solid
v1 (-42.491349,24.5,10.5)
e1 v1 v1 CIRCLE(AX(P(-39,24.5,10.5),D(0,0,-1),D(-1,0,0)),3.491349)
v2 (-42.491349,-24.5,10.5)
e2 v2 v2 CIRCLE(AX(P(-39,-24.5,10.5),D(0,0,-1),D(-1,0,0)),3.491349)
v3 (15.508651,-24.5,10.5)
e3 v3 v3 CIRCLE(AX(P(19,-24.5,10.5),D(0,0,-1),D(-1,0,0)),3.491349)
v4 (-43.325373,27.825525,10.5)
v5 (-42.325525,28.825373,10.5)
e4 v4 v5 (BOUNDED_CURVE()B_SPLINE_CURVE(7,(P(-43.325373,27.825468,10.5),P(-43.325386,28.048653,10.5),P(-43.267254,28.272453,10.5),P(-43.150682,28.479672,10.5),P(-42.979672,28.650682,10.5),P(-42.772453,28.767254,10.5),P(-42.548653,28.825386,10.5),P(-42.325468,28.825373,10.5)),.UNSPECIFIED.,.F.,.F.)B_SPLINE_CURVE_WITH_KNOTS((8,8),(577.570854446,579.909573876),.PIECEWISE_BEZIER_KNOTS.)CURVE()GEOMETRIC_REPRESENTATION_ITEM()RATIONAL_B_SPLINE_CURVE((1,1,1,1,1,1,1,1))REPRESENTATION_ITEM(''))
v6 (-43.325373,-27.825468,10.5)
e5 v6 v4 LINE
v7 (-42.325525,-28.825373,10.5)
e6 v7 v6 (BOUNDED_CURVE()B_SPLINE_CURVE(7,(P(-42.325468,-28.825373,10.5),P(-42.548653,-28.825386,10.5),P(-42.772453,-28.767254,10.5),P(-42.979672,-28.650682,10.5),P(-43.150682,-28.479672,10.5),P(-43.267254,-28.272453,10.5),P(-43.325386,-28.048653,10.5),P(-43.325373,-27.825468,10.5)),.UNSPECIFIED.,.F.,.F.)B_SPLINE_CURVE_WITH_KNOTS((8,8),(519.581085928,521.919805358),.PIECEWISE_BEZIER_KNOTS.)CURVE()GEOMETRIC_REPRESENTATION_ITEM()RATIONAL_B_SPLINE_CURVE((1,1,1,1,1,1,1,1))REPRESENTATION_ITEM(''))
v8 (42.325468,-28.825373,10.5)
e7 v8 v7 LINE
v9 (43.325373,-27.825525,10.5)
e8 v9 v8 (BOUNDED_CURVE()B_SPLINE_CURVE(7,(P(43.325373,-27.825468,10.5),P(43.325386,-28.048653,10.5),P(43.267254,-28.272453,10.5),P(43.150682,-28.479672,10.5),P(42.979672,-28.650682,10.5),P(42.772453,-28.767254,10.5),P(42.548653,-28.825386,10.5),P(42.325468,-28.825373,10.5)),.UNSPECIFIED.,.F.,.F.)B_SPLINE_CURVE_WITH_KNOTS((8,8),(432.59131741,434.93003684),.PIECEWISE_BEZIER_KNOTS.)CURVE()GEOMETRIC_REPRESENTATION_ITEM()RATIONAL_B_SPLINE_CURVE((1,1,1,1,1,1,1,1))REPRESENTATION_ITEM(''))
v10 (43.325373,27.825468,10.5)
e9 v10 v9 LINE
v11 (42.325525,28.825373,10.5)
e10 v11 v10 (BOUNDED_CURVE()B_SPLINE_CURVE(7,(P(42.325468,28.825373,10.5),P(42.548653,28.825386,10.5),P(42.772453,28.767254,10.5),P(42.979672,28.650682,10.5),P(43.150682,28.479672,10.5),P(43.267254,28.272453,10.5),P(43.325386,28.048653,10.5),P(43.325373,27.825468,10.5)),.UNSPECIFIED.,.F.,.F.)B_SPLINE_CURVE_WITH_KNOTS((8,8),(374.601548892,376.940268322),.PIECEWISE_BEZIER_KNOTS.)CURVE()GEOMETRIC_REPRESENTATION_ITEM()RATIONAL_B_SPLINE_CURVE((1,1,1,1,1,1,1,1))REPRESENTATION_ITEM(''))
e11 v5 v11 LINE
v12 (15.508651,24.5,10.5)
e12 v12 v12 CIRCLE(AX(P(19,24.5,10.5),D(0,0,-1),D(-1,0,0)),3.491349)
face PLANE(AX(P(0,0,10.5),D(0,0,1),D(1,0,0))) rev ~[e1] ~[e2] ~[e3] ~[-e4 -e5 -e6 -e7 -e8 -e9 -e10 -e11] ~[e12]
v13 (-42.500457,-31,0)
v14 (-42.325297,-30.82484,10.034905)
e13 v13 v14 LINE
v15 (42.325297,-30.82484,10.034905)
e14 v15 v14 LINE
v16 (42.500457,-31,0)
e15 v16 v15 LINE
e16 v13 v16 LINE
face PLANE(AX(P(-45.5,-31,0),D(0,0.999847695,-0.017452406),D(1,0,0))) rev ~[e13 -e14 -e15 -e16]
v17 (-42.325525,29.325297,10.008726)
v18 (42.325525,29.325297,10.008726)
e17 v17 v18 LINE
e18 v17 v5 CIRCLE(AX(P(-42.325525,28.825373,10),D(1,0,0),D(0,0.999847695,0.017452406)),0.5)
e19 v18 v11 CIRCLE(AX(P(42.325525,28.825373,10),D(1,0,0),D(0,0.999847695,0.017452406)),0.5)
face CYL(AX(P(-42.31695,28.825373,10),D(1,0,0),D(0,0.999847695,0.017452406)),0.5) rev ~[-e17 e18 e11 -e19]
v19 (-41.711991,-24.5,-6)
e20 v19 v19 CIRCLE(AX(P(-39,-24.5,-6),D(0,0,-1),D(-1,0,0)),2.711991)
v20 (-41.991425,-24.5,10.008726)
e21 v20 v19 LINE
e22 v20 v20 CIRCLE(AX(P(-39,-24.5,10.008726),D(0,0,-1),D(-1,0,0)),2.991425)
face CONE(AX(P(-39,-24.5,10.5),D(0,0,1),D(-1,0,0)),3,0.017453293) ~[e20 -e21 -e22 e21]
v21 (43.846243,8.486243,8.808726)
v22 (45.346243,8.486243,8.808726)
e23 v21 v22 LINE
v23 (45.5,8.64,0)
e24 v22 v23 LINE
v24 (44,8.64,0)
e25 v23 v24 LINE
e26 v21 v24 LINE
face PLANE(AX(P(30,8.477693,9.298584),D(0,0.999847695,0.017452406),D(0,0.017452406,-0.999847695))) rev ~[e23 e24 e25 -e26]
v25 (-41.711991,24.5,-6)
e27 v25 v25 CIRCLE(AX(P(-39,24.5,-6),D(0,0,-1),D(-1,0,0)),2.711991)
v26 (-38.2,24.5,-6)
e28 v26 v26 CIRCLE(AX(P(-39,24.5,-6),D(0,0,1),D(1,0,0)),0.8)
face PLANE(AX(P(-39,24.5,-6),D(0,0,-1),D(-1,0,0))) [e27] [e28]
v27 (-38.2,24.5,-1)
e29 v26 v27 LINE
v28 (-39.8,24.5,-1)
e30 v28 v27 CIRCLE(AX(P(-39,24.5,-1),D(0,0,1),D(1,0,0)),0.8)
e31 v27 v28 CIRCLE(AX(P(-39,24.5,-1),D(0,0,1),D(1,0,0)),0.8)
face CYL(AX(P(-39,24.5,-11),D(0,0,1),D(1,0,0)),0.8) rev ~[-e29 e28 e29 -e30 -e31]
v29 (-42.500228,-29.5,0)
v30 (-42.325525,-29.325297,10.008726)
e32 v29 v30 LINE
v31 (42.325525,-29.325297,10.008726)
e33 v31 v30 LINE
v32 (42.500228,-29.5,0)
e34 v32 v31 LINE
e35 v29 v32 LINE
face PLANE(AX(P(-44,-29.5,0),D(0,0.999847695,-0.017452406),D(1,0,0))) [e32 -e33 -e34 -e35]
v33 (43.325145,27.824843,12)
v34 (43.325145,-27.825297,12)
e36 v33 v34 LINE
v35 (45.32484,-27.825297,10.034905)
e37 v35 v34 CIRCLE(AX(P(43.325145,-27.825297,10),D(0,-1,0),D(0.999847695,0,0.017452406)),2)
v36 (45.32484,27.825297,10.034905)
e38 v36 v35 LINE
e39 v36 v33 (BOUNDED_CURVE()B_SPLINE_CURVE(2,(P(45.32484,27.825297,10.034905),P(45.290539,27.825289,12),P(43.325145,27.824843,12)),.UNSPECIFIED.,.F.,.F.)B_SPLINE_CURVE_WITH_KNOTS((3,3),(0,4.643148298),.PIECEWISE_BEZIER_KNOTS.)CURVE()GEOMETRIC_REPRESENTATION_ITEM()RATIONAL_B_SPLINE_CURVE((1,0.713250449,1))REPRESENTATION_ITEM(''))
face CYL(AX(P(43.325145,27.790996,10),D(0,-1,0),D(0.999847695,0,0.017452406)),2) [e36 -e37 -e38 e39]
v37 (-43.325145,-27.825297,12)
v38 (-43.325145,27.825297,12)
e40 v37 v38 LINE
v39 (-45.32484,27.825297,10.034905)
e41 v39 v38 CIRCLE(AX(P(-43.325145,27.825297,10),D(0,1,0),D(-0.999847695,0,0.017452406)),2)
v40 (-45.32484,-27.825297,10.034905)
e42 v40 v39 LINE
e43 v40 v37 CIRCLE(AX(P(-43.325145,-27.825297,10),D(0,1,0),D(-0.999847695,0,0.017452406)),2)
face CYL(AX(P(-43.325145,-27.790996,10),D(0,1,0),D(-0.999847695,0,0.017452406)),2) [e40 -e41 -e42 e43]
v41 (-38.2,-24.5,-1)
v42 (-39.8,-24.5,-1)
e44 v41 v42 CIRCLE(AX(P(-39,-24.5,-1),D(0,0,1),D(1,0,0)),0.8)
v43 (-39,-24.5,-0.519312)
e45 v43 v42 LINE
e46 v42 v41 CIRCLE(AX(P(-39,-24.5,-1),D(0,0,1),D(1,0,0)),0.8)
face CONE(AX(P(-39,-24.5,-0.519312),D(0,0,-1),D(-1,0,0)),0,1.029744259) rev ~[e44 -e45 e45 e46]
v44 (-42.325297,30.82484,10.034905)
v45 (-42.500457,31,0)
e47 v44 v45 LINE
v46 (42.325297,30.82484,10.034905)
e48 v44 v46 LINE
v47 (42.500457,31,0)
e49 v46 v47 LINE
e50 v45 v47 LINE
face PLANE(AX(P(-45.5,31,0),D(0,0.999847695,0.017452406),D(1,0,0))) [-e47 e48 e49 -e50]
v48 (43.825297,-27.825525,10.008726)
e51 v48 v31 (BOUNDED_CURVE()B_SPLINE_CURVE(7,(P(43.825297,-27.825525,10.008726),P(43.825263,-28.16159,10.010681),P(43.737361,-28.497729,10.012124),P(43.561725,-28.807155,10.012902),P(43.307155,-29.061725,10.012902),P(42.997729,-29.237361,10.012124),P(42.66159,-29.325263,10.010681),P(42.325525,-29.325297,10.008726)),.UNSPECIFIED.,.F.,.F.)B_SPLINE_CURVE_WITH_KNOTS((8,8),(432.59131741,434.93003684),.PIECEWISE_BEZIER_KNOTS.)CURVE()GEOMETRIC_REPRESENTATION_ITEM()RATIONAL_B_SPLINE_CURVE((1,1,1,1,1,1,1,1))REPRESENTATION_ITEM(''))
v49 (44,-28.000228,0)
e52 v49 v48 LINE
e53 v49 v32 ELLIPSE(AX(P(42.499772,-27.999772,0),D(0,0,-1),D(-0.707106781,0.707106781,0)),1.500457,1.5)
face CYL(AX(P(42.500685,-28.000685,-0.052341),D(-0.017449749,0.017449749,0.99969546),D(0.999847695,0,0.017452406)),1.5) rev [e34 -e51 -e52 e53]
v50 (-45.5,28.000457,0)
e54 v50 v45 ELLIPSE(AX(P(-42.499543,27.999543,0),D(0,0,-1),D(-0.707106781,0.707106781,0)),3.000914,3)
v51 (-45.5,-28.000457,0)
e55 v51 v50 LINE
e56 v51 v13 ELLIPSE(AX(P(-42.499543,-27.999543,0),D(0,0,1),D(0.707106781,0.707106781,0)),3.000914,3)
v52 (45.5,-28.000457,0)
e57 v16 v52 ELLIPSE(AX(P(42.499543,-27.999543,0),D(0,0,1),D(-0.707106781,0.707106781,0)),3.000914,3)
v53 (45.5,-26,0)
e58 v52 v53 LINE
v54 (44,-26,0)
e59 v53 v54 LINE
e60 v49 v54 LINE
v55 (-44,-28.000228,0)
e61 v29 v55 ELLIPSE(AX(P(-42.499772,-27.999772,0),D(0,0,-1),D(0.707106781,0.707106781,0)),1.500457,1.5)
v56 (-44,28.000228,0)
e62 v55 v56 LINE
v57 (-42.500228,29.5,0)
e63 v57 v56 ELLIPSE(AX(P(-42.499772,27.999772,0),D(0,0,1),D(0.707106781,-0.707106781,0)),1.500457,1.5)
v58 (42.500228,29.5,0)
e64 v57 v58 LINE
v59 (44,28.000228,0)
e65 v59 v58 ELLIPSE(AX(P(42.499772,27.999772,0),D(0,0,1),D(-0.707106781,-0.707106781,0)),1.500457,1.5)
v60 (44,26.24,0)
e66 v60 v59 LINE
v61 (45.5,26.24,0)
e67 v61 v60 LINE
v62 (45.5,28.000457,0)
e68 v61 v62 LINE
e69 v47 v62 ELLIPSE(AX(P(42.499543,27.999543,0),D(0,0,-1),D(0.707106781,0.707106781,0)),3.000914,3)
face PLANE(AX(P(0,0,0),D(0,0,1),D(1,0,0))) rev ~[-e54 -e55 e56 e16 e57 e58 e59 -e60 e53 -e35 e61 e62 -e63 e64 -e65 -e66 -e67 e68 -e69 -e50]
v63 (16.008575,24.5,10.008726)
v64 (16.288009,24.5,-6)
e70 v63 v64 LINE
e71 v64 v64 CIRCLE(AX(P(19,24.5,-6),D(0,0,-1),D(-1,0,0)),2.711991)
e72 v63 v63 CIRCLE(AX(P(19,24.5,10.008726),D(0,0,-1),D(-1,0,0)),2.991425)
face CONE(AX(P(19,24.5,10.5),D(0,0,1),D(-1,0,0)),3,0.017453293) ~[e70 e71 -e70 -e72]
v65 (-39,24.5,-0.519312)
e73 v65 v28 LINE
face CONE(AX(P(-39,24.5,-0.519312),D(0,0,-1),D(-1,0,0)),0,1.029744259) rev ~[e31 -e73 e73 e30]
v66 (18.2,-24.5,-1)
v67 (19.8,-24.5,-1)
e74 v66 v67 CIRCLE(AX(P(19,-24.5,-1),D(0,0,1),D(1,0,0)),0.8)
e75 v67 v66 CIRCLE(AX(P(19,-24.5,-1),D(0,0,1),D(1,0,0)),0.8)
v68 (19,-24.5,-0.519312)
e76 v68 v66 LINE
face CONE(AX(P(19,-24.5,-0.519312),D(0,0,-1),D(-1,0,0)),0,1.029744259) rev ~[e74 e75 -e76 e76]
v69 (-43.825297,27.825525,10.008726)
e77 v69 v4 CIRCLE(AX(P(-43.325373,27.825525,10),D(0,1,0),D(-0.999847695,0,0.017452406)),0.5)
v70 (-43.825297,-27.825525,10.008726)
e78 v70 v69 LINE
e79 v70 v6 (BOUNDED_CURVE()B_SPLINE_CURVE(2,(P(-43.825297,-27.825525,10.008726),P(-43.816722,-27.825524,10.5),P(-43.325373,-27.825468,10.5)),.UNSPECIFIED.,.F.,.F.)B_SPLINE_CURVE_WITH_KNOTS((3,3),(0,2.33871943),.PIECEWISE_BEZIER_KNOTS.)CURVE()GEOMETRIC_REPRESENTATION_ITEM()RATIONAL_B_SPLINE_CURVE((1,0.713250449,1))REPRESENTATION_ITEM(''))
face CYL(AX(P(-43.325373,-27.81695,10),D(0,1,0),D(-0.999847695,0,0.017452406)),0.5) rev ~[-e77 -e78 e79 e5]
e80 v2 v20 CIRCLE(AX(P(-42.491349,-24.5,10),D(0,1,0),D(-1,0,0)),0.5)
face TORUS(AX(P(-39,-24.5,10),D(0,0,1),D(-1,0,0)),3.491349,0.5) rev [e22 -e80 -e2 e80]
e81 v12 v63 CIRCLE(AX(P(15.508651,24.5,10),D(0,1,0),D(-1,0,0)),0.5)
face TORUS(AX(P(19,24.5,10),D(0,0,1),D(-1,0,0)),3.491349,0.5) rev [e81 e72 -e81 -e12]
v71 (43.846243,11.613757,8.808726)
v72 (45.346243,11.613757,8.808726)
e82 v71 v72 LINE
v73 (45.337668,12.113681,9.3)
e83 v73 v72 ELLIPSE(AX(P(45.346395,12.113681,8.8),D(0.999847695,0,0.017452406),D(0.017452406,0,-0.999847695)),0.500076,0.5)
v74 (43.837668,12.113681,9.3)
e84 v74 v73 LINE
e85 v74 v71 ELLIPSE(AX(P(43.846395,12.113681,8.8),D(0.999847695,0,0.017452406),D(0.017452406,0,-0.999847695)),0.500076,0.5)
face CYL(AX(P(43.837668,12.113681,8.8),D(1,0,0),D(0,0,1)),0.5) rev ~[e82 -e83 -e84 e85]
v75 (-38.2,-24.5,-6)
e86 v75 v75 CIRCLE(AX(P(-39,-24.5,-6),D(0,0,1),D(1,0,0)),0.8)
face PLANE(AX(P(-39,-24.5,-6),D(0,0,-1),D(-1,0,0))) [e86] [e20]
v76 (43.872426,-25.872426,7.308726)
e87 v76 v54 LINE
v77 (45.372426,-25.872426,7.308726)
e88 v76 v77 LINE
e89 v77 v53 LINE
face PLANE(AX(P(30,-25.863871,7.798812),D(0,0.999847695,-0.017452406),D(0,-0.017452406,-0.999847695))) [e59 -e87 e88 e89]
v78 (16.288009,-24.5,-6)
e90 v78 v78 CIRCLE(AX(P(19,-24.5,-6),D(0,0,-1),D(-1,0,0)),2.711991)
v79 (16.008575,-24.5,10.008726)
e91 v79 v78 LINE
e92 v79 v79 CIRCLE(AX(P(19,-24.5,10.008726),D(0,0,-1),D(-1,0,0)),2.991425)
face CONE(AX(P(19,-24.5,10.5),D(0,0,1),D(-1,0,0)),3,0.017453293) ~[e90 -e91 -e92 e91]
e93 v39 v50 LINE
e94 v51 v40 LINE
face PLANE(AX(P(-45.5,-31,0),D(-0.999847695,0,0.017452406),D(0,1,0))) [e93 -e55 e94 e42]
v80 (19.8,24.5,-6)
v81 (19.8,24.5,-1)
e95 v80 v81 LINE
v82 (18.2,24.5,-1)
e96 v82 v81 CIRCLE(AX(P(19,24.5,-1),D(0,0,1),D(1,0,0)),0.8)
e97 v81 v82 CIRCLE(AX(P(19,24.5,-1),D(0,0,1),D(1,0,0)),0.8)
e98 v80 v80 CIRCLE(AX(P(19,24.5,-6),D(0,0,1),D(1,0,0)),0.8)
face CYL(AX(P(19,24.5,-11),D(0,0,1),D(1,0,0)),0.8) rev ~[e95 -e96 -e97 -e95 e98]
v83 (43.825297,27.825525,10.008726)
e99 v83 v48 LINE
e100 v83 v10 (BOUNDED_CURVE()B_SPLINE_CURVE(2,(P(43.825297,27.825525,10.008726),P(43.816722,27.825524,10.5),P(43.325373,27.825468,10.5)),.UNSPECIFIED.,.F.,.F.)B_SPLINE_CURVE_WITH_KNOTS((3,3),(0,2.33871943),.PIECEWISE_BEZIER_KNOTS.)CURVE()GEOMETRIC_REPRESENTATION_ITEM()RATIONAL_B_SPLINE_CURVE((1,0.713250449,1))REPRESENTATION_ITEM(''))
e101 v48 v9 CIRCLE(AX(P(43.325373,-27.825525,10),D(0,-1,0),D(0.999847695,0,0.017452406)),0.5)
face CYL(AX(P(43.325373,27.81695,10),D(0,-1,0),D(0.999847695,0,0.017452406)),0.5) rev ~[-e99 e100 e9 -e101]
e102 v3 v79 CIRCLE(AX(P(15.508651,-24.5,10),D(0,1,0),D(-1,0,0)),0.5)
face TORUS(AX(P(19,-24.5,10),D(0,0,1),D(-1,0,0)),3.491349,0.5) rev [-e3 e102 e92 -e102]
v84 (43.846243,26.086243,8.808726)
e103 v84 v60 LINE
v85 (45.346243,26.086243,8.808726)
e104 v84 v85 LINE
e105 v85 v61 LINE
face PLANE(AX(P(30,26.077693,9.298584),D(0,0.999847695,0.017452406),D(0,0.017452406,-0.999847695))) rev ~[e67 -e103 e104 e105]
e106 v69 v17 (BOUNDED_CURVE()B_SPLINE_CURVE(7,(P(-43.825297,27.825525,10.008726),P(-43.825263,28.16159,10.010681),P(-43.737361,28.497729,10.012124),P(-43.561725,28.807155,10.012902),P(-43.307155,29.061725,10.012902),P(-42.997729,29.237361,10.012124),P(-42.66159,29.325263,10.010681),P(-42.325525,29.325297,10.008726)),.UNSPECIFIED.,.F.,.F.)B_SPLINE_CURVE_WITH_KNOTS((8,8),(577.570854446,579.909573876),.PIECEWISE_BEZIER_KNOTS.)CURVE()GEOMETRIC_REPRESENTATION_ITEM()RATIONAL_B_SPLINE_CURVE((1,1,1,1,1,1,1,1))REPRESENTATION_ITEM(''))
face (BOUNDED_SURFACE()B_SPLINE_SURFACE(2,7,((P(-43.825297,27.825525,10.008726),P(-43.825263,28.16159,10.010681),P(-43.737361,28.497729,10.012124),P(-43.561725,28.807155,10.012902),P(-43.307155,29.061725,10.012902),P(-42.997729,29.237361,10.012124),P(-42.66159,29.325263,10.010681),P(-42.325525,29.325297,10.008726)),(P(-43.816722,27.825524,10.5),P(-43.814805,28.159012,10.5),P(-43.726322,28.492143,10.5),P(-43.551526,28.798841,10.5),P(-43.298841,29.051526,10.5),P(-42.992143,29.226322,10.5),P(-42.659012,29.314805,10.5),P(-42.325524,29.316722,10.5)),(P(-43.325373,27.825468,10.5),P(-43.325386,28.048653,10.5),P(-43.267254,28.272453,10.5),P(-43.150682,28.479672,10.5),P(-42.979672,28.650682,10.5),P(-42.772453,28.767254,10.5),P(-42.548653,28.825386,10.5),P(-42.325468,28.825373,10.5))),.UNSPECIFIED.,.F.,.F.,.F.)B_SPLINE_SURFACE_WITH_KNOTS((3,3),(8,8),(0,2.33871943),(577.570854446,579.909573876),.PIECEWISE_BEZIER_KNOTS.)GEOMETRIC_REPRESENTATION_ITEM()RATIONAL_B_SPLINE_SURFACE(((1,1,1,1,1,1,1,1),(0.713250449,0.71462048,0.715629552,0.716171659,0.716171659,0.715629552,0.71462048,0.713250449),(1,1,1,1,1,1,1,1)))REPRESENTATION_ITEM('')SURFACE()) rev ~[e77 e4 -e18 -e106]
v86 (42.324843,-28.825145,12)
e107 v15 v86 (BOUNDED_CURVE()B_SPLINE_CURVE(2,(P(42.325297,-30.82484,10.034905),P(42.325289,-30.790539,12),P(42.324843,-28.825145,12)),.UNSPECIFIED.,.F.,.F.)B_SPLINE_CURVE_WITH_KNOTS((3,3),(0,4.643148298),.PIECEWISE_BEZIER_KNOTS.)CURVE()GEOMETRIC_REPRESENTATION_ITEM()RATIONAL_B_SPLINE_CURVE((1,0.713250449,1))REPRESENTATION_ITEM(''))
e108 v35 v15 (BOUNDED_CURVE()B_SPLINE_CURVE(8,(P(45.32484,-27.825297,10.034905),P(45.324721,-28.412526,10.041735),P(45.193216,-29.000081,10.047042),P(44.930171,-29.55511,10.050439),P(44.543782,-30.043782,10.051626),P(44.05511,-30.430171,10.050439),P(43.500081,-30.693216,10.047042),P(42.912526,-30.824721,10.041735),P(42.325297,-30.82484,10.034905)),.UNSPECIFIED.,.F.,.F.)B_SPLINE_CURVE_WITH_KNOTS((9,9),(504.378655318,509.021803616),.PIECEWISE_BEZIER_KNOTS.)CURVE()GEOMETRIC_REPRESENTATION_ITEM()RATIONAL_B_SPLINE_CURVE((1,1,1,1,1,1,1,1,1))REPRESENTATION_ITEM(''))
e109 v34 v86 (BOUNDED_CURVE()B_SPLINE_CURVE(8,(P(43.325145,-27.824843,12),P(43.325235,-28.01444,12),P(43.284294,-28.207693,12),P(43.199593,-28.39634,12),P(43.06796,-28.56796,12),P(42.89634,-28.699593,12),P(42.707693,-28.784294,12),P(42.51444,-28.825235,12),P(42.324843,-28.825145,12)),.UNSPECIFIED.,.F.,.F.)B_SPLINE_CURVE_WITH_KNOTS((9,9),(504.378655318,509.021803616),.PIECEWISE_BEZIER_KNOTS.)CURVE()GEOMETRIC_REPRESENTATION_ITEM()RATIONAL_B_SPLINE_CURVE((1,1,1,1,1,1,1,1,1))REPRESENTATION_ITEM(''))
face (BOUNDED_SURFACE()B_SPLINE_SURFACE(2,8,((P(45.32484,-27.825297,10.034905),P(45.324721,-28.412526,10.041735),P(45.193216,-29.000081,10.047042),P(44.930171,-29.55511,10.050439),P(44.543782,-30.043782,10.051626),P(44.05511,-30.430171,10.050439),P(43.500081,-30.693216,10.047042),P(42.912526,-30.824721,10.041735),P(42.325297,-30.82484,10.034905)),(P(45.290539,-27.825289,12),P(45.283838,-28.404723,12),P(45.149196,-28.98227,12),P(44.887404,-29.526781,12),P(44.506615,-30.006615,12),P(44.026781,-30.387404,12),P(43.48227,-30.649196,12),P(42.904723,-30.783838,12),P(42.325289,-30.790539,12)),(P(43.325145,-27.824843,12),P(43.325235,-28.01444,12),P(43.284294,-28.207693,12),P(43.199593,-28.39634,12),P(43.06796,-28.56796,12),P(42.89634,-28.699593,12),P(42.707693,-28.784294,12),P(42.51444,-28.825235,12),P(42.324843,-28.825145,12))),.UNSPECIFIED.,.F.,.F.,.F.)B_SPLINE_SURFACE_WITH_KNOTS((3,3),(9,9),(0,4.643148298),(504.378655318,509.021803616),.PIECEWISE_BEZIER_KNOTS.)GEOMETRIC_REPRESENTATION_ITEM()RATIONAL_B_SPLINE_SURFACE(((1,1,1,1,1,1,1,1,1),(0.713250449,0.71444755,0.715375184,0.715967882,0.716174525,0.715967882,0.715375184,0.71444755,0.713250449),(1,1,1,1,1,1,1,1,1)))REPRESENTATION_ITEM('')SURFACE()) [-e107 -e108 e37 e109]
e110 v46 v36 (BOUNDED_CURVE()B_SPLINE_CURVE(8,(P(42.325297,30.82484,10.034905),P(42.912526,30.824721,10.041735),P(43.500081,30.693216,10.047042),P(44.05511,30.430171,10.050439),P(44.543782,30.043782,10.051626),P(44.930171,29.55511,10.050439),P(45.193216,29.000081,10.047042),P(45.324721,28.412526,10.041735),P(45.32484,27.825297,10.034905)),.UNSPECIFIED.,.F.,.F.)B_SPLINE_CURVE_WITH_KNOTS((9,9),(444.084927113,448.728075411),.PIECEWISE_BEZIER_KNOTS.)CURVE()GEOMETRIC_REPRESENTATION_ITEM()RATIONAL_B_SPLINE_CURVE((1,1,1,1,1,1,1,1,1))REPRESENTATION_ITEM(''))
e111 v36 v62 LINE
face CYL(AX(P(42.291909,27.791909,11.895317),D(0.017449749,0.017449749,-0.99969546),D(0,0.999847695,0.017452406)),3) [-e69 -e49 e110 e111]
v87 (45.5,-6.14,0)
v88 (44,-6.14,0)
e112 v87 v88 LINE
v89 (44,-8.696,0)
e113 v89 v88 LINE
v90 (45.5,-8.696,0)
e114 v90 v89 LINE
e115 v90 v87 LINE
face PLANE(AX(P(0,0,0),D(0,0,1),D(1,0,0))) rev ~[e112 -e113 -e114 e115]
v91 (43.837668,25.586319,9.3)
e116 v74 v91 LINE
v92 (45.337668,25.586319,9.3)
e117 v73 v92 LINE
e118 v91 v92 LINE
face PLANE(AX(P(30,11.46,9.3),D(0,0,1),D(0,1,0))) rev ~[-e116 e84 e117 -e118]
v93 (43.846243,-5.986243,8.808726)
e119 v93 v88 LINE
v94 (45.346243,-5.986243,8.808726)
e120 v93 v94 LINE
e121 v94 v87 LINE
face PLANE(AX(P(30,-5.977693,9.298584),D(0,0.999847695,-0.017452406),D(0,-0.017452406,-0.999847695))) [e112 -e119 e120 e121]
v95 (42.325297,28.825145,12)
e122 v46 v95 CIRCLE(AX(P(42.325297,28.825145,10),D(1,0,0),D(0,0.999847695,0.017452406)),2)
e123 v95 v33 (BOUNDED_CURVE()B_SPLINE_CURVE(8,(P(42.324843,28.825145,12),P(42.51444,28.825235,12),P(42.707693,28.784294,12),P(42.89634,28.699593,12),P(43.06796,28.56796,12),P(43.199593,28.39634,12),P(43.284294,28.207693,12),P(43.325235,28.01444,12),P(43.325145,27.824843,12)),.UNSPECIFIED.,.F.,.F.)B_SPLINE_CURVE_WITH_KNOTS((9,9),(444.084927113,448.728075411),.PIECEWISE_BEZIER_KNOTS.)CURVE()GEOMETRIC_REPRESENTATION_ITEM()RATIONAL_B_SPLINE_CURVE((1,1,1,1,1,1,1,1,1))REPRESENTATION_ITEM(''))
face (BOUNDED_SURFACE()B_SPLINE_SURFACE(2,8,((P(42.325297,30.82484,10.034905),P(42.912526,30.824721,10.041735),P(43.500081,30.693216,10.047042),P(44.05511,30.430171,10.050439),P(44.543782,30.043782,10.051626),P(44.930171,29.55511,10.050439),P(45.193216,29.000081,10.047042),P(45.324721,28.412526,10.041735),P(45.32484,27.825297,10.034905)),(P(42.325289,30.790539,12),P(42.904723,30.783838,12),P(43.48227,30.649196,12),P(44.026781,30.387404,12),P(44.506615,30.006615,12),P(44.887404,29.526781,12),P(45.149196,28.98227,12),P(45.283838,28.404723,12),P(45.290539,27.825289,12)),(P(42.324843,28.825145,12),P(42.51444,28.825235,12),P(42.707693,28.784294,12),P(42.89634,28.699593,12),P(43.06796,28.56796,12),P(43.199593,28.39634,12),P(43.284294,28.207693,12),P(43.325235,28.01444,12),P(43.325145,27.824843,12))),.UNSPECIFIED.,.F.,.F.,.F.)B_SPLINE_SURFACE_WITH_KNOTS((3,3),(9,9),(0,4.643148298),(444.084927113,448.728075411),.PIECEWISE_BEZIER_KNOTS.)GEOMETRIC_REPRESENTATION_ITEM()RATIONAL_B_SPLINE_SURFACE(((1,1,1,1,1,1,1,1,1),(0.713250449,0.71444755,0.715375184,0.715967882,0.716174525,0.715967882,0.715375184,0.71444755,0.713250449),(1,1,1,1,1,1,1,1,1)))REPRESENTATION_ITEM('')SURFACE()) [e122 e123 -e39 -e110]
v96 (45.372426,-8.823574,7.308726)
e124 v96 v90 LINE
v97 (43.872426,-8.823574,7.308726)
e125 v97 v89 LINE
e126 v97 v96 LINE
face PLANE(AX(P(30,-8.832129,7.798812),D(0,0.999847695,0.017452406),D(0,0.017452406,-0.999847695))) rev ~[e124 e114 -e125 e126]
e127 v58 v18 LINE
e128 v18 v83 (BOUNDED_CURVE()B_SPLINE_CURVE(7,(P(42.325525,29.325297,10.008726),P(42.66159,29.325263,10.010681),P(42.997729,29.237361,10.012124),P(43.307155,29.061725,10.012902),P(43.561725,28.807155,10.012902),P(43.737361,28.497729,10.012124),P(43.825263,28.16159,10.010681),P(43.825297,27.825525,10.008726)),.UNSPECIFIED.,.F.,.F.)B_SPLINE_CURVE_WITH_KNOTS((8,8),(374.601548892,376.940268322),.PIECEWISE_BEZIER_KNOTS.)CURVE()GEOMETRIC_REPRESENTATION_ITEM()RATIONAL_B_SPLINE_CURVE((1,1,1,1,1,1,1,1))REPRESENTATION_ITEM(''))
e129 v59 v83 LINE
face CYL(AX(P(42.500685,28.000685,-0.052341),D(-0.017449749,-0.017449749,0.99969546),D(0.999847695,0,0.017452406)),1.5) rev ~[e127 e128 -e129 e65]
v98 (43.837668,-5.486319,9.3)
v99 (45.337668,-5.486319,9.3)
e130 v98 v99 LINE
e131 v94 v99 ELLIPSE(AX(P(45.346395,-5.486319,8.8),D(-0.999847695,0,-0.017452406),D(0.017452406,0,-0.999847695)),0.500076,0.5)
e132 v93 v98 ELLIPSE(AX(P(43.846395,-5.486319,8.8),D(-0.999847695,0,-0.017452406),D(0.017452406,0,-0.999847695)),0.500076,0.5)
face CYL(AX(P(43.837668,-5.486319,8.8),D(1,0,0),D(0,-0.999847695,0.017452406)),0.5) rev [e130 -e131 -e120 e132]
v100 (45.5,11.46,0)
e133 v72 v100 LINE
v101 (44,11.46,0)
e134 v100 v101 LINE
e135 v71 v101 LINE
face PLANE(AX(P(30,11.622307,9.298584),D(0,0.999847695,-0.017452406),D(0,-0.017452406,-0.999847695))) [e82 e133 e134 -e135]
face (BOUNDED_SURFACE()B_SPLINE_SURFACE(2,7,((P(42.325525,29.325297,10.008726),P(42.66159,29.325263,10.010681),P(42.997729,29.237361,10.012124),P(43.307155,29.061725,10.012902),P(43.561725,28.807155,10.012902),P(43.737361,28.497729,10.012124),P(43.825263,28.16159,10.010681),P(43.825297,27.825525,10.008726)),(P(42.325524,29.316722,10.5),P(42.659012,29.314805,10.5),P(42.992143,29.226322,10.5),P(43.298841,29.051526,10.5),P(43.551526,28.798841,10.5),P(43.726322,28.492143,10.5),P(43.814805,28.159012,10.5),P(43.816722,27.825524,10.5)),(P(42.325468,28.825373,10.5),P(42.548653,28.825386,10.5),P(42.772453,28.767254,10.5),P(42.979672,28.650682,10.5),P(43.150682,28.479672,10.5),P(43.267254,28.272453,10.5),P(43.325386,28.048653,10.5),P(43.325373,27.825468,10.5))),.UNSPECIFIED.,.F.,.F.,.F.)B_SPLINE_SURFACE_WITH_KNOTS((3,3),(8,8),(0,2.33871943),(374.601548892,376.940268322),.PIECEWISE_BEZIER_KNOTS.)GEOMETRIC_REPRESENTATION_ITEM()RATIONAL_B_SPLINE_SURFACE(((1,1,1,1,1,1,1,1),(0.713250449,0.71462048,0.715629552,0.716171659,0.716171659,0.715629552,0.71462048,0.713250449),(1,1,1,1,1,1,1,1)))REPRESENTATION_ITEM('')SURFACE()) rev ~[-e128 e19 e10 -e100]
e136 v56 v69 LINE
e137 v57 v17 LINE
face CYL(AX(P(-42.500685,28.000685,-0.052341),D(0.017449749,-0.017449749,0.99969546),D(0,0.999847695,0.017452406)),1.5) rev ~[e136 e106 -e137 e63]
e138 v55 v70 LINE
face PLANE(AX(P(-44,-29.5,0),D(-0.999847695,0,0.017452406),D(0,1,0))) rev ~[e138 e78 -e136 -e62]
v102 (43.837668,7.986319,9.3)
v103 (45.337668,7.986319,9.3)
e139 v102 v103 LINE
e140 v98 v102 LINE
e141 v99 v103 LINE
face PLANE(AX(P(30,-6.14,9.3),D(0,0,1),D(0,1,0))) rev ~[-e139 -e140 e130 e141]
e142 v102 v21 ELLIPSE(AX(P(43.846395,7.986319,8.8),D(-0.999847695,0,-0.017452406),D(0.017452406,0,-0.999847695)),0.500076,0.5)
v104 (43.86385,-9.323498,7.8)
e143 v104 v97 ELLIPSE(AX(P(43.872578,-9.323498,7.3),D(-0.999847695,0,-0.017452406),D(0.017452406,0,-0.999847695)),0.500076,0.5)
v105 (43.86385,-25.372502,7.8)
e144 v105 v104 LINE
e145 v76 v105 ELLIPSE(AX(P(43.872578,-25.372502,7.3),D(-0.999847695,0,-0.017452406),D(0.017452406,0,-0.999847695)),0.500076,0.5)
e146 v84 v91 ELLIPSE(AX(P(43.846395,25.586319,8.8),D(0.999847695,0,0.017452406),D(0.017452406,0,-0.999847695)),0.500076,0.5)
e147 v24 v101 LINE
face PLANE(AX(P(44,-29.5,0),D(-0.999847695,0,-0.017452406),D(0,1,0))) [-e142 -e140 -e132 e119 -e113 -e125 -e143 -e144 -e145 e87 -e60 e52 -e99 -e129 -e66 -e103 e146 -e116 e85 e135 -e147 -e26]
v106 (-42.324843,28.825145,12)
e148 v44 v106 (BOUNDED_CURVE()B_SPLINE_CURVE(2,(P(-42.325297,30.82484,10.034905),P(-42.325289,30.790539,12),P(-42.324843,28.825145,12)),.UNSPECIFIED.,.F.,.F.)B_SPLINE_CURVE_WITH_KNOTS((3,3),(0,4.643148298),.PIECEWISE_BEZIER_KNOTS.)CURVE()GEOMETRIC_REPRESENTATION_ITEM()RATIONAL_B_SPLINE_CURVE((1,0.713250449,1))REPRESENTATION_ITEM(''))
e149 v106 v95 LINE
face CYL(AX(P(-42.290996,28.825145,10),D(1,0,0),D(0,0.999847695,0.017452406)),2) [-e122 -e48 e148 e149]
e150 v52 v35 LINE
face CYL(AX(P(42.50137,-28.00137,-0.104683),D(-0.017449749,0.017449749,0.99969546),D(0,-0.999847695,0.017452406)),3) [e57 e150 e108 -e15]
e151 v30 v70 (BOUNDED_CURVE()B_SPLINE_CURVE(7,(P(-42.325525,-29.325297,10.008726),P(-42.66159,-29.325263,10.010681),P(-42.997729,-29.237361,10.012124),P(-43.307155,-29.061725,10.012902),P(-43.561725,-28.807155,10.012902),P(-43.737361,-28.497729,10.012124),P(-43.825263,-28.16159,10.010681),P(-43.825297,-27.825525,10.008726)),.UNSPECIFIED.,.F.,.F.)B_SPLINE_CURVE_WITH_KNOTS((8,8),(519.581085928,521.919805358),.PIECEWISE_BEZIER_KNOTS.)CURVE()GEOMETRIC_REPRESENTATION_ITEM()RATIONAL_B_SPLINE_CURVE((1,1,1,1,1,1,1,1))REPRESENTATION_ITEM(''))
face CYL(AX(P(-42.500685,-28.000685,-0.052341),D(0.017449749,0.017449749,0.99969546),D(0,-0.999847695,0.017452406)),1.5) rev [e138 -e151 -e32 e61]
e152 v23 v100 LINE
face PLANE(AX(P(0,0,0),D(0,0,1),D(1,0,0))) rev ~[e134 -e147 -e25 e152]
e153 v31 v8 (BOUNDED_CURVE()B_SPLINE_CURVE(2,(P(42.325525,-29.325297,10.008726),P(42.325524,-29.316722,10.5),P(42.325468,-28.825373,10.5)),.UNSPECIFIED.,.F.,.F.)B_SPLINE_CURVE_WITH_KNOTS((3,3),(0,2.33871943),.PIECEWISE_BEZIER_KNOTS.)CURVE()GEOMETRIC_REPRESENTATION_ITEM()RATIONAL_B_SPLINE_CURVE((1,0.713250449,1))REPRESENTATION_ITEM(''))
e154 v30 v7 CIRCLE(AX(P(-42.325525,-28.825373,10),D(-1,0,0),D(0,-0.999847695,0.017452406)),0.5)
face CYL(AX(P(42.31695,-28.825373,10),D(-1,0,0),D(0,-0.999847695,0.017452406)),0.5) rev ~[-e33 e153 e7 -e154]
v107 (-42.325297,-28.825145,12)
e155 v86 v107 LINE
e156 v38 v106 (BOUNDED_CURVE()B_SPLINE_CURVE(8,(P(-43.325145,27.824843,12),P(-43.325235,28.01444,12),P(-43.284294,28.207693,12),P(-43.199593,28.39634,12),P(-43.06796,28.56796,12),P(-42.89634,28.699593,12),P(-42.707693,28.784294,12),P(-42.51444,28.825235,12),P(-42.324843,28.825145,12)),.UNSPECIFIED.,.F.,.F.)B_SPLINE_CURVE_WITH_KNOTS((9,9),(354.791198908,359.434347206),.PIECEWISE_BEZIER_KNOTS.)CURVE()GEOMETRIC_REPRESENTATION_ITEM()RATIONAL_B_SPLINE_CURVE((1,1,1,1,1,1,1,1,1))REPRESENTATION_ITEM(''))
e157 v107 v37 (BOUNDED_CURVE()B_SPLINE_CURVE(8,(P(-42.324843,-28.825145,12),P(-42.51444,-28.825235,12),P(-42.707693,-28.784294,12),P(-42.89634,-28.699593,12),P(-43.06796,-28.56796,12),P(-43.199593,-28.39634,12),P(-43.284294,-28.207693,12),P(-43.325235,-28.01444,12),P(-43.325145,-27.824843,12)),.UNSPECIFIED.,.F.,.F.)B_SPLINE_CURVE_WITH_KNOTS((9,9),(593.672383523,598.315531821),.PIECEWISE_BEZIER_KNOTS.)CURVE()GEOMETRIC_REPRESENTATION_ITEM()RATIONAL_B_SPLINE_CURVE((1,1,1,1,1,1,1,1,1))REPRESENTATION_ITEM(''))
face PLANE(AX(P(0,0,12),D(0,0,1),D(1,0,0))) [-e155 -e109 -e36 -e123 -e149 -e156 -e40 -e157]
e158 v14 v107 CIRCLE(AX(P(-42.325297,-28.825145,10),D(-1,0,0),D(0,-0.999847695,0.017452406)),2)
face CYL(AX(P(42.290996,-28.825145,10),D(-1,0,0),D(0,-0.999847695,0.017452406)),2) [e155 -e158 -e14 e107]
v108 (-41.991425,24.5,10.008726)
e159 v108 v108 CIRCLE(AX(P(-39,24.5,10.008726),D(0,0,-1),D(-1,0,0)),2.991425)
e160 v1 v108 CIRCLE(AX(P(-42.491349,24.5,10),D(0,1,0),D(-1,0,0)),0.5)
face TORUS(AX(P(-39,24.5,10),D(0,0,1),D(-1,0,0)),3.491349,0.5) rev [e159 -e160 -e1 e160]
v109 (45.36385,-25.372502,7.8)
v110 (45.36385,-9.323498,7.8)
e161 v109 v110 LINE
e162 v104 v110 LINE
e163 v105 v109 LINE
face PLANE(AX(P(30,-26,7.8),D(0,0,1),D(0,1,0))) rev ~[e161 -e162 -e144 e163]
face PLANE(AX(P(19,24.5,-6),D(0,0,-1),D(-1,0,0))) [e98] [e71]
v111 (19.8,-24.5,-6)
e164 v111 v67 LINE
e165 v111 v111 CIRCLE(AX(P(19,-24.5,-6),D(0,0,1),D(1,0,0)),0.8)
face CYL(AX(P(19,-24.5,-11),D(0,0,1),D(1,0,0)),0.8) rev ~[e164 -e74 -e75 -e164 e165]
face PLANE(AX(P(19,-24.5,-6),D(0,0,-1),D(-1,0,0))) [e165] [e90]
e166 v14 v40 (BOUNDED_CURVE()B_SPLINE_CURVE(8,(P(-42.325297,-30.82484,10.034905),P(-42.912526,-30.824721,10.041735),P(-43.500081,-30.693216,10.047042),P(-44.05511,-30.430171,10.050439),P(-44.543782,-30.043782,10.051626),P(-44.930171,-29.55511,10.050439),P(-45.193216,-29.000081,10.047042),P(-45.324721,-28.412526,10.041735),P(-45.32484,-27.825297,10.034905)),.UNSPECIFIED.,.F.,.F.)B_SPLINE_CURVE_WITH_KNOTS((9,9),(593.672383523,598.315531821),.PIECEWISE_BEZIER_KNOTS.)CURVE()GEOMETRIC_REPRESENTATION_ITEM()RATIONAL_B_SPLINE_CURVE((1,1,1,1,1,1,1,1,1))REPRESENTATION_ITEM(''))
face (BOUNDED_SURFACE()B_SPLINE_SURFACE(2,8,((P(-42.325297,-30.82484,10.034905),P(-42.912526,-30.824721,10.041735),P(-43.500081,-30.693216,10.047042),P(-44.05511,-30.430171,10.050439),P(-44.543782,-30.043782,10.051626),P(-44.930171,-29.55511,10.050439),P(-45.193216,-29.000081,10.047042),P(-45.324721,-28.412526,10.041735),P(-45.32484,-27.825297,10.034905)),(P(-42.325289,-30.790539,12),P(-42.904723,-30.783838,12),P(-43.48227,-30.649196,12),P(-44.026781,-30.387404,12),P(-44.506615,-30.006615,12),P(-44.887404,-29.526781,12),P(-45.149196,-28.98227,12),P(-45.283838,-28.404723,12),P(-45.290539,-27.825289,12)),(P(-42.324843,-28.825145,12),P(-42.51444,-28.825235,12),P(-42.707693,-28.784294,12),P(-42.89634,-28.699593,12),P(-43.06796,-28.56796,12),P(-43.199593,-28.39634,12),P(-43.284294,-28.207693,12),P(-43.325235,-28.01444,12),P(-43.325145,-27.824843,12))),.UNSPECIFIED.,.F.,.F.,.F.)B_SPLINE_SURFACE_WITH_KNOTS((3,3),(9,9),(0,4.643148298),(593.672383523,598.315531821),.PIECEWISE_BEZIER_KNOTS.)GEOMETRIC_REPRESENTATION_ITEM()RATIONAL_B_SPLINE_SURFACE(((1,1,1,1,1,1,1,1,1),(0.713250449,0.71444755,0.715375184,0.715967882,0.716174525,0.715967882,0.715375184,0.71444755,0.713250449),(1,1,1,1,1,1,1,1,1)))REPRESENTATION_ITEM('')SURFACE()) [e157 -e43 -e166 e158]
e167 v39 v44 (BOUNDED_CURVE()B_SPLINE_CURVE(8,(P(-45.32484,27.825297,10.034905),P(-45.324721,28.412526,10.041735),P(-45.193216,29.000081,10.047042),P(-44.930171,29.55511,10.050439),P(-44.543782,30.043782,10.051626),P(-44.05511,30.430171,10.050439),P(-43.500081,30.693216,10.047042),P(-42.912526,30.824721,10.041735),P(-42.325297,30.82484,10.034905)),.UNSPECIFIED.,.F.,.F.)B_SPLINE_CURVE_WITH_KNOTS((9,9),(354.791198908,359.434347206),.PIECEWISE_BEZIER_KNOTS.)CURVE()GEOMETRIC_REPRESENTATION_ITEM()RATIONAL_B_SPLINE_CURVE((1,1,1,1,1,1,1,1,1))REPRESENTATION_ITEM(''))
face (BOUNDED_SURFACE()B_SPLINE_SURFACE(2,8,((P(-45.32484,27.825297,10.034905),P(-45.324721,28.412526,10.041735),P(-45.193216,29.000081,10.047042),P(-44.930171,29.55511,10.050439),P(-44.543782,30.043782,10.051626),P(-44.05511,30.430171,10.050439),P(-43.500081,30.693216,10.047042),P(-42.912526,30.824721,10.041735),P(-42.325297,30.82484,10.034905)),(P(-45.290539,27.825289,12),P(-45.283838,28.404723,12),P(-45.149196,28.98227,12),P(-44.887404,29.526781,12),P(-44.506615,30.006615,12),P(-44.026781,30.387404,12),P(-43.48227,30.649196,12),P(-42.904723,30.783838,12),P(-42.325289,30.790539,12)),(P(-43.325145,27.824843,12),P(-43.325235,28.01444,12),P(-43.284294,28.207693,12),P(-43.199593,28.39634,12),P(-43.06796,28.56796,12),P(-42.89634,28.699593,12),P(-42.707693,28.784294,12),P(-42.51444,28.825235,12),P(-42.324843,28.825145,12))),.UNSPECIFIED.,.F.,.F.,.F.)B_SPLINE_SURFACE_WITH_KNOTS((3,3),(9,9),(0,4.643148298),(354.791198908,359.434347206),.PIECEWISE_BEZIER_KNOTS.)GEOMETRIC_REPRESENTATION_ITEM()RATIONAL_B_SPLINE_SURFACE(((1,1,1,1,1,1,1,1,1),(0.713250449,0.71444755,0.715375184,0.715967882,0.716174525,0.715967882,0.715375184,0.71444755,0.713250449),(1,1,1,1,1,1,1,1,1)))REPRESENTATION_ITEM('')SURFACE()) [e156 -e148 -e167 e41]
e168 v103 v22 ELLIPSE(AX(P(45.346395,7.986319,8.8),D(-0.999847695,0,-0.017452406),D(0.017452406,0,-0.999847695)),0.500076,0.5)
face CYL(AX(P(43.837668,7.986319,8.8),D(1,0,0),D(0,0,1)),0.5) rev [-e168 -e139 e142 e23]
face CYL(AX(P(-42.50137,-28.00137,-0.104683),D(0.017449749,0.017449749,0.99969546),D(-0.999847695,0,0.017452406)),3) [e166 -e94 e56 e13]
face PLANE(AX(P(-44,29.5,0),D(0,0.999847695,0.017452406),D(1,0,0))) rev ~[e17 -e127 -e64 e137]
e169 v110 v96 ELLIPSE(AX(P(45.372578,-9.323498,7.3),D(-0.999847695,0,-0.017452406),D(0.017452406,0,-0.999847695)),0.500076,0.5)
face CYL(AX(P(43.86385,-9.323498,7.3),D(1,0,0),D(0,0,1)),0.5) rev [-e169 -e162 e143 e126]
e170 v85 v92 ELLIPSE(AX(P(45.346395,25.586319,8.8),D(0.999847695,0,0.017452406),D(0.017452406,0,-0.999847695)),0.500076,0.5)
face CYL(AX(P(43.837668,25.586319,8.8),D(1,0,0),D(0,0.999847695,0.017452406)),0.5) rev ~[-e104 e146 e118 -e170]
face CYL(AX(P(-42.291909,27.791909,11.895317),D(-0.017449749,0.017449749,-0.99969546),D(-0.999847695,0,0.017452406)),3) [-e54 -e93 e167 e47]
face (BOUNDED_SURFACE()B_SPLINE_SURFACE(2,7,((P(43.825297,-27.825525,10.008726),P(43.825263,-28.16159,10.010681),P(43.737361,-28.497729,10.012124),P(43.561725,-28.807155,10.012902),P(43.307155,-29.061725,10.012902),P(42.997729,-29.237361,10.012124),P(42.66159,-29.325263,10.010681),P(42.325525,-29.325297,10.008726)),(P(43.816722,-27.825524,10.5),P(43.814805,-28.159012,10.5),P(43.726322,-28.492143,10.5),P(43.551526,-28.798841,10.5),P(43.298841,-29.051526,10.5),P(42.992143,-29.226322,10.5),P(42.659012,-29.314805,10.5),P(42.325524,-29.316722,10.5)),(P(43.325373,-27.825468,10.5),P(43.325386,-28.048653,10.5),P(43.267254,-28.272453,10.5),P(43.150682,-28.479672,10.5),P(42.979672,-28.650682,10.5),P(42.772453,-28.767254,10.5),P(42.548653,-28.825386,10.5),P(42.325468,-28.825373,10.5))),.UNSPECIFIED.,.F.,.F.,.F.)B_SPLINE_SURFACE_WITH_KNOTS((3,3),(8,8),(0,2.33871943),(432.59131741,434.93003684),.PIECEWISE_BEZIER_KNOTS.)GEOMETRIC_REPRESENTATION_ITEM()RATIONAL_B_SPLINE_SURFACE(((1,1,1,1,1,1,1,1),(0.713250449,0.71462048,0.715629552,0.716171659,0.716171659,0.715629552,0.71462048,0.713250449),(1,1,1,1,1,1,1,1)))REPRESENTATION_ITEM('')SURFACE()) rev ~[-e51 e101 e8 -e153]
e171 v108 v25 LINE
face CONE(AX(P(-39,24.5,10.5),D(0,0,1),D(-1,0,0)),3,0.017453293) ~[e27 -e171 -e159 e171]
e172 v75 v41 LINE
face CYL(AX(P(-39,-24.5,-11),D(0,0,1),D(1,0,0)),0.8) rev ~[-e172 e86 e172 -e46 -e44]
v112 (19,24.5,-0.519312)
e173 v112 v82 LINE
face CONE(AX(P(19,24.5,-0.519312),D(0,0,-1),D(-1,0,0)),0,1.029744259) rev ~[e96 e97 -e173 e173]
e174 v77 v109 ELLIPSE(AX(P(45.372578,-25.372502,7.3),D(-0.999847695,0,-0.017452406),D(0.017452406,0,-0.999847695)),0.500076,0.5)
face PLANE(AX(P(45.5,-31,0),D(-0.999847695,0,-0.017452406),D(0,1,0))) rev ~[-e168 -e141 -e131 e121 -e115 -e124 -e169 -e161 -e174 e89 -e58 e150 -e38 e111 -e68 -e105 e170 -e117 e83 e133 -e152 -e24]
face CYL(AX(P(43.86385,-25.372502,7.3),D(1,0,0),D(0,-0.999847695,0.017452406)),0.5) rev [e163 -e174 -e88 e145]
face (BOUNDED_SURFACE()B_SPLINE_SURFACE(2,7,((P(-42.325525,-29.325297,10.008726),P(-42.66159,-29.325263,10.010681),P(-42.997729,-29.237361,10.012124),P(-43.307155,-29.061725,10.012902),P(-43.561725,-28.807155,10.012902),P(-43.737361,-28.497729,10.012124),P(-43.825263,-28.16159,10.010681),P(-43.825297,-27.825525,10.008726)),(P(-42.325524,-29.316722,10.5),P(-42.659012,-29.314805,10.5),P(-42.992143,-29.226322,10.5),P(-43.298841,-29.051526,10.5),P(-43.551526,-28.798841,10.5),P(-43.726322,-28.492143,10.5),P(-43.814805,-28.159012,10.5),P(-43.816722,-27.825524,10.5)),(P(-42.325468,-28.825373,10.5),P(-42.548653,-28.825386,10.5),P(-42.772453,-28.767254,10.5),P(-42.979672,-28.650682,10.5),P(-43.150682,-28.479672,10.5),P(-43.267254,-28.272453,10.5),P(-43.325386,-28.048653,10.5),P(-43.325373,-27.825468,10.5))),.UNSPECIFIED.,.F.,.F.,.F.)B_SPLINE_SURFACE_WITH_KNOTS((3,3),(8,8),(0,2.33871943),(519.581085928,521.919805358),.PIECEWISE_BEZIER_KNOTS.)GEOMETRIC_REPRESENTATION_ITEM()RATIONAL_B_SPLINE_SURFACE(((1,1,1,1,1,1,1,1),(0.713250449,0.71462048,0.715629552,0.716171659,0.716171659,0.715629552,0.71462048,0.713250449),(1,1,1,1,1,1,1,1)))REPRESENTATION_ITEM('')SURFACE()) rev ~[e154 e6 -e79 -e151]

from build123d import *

# Parameters (mm, degrees)
SKETCH1_W                    = 91
SKETCH1_H                    = 62
SKETCH1_W_2                  = 88
SKETCH1_H_2                  = 59
WALLS_DEPTH                  = 12
SKETCH2_W                    = 91
SKETCH2_H                    = 62
BASE_DEPTH                   = 1.5
SKETCH3_R                    = 3
STANDOFFS_DEPTH              = 16.5
STANDOFFS_DRAFT              = 1
STANDOFFS_PROFILE_2_DEPTH    = 16.5
STANDOFFS_PROFILE_2_DRAFT    = 1
STANDOFFS_PROFILE_3_DEPTH    = 16.5
STANDOFFS_PROFILE_3_DRAFT    = 1
STANDOFFS_PROFILE_4_DEPTH    = 16.5
STANDOFFS_PROFILE_4_DRAFT    = 1
M2X0_4_TAPPED_HOLE1_D        = 1.6
M2X0_4_TAPPED_HOLE1_DEPTH    = 5
M2X0_4_TAPPED_HOLE1_TIP      = 0.480688495
USB_START                    = 30
SKETCH6_W                    = 14.2
SKETCH6_H                    = 17.304
SKETCH6_W_2                  = 16.490000002
SKETCH6_H_2                  = 14.78
USB_AND_ETHERNET_PORTS_DEPTH = 27.349356695
DRAFT1_ANGLE                 = -1
DRAFT2_ANGLE                 = 1
FILLET1_R                    = 3
FILLET2_R                    = 1.5
FILLET3_R                    = 2
FILLET4_R                    = 0.5
DRAFT3_ANGLE                 = 1
FILLET5_R                    = 0.5


with BuildPart() as part:
    # Sketch1 → Walls (new body)
    with BuildSketch(Plane.XY):
        Rectangle(SKETCH1_W, SKETCH1_H)
        Rectangle(SKETCH1_W_2, SKETCH1_H_2, mode=Mode.SUBTRACT)
    extrude(amount=WALLS_DEPTH)

    # Sketch2 → Base (add)
    with BuildSketch(Plane.XY.offset(12)):
        Rectangle(SKETCH2_W, SKETCH2_H)
    extrude(amount=-BASE_DEPTH)


with BuildPart() as standoffs_tool:
    # Sketch3 → Standoffs (with draft: the straight prism first)
    with BuildSketch(Plane(origin=(0, 0, 10.5), x_dir=(-1, 0, 0), z_dir=(0, 0, -1))):
        with Locations((39, -24.5)):
            Circle(SKETCH3_R)
    extrude(amount=STANDOFFS_DEPTH)
    # Standoffs: the draft: its side faces are tilted about the plane it starts from
    standoffs_sides = [standoffs_tool.faces().sort_by_distance(p)[0] for p in [
        (-36, -24.5, 2.25),
    ]]
    draft(standoffs_sides, Plane(origin=(0, 0, 10.5), x_dir=(-1, 0, 0), z_dir=(0, 0, -1)), STANDOFFS_DRAFT)


with BuildPart() as part_1:
    add(part.part)

    # Standoffs: add standoffs_tool
    add(standoffs_tool.part)


with BuildPart() as standoffs_profile_2_tool:
    # Sketch3 → Standoffs profile 2 (with draft: the straight prism first)
    with BuildSketch(Plane(origin=(0, 0, 10.5), x_dir=(-1, 0, 0), z_dir=(0, 0, -1))):
        with Locations((-19, -24.5)):
            Circle(SKETCH3_R)
    extrude(amount=STANDOFFS_PROFILE_2_DEPTH)
    # Standoffs profile 2: the draft: its side faces are tilted about the plane it starts from
    standoffs_profile_2_sides = [standoffs_profile_2_tool.faces().sort_by_distance(p)[0] for p in [
        (22, -24.5, 2.25),
    ]]
    draft(standoffs_profile_2_sides, Plane(origin=(0, 0, 10.5), x_dir=(-1, 0, 0), z_dir=(0, 0, -1)), STANDOFFS_PROFILE_2_DRAFT)


with BuildPart() as part_2:
    add(part_1.part)

    # Standoffs profile 2: add standoffs_profile_2_tool
    add(standoffs_profile_2_tool.part)


with BuildPart() as standoffs_profile_3_tool:
    # Sketch3 → Standoffs profile 3 (with draft: the straight prism first)
    with BuildSketch(Plane(origin=(0, 0, 10.5), x_dir=(-1, 0, 0), z_dir=(0, 0, -1))):
        with Locations((-19, 24.5)):
            Circle(SKETCH3_R)
    extrude(amount=STANDOFFS_PROFILE_3_DEPTH)
    # Standoffs profile 3: the draft: its side faces are tilted about the plane it starts from
    standoffs_profile_3_sides = [standoffs_profile_3_tool.faces().sort_by_distance(p)[0] for p in [
        (22, 24.5, 2.25),
    ]]
    draft(standoffs_profile_3_sides, Plane(origin=(0, 0, 10.5), x_dir=(-1, 0, 0), z_dir=(0, 0, -1)), STANDOFFS_PROFILE_3_DRAFT)


with BuildPart() as part_3:
    add(part_2.part)

    # Standoffs profile 3: add standoffs_profile_3_tool
    add(standoffs_profile_3_tool.part)


with BuildPart() as standoffs_profile_4_tool:
    # Sketch3 → Standoffs profile 4 (with draft: the straight prism first)
    with BuildSketch(Plane(origin=(0, 0, 10.5), x_dir=(-1, 0, 0), z_dir=(0, 0, -1))):
        with Locations((39, 24.5)):
            Circle(SKETCH3_R)
    extrude(amount=STANDOFFS_PROFILE_4_DEPTH)
    # Standoffs profile 4: the draft: its side faces are tilted about the plane it starts from
    standoffs_profile_4_sides = [standoffs_profile_4_tool.faces().sort_by_distance(p)[0] for p in [
        (-36, 24.5, 2.25),
    ]]
    draft(standoffs_profile_4_sides, Plane(origin=(0, 0, 10.5), x_dir=(-1, 0, 0), z_dir=(0, 0, -1)), STANDOFFS_PROFILE_4_DRAFT)


with BuildPart() as part_4:
    add(part_3.part)

    # Standoffs profile 4: add standoffs_profile_4_tool
    add(standoffs_profile_4_tool.part)

    # M2x0.4 Tapped Hole1
    with Locations(Plane(origin=(0, 0, -6), x_dir=(-1, 0, 0), z_dir=(0, 0, -1))):
        with Locations((39, -24.5), (-19, -24.5), (-19, 24.5), (39, 24.5)):
            Hole(M2X0_4_TAPPED_HOLE1_D / 2, depth=M2X0_4_TAPPED_HOLE1_DEPTH)
            with Locations((0, 0, -(M2X0_4_TAPPED_HOLE1_DEPTH + M2X0_4_TAPPED_HOLE1_TIP / 2))):  # 118° drill point
                Cone(0, M2X0_4_TAPPED_HOLE1_D / 2, M2X0_4_TAPPED_HOLE1_TIP, mode=Mode.SUBTRACT)

    # Sketch6 → USB and Ethernet Ports (cut, through all)
    with BuildSketch(Plane(origin=(0, 0, 0), x_dir=(0, 0, -1), z_dir=(1, 0, 0)).offset(USB_START)):
        with Locations((-0.7, -17.348)):
            Rectangle(SKETCH6_W, SKETCH6_H)
        with Locations((-1.054999999, 1.25)):
            Rectangle(SKETCH6_W_2, SKETCH6_H_2)
        with Locations((-1.054999999, 18.85)):
            Rectangle(SKETCH6_W_2, SKETCH6_H_2)
    extrude(amount=USB_AND_ETHERNET_PORTS_DEPTH, mode=Mode.SUBTRACT)

    # Draft1
    draft1_faces = [part_4.faces().sort_by_distance(p)[0] for p in [
        (45.5, -28.5, 0.631506136),
        (0, -31, 6),
        (-45.5, 0, 6),
        (0, 31, 6),
    ]]
    draft(draft1_faces, Plane(origin=(0, 0, 0), x_dir=(-1, 0, 0), z_dir=(0, 0, -1)), DRAFT1_ANGLE)

    # Draft2
    draft2_faces = [part_4.faces().sort_by_distance(p)[0] for p in [
        (44, -27.75, 0.59927039),
        (0, -29.5, 5.25),
        (-44, 0, 5.25),
        (0, 29.5, 5.25),
    ]]
    draft(draft2_faces, Plane(origin=(0, 0, 0), x_dir=(-1, 0, 0), z_dir=(0, 0, -1)), DRAFT2_ANGLE)

    # Fillet1
    fillet1_edges = [part_4.edges().sort_by_distance(p)[0] for p in [
        (45.39526961, 30.89526961, 6),
        (45.39526961, -30.89526961, 6),
        (-45.39526961, -30.89526961, 6),
        (-45.39526961, 30.89526961, 6),
    ]]
    fillet(fillet1_edges, radius=FILLET1_R)

    # Fillet2
    fillet2_edges = [part_4.edges().sort_by_distance(p)[0] for p in [
        (43.908360909, -29.408360909, 5.25),
        (43.908360909, 29.408360909, 5.25),
        (-43.908360909, -29.408360909, 5.25),
        (-43.908360909, 29.408360909, 5.25),
    ]]
    fillet(fillet2_edges, radius=FILLET2_R)

    # Fillet3
    fillet3_edges = [part_4.edges().sort_by_distance(p)[0] for p in [
        (-45.290539221, 0, 12),
        (0, 30.790539221, 12),
        (0, -30.790539221, 12),
        (45.290539221, 0, 12),
        (-44.412048804, -29.912048804, 12),
        (44.412048804, 29.912048804, 12),
        (44.412048804, -29.912048804, 12),
        (-44.412048804, 29.912048804, 12),
    ]]
    fillet(fillet3_edges, radius=FILLET3_R)

    # Fillet4
    fillet4_edges = [part_4.edges().sort_by_distance(p)[0] for p in [
        (0, 29.316721818, 10.5),
        (-43.816721818, 0, 10.5),
        (43.816721818, 0, 10.5),
        (0, -29.316721818, 10.5),
        (-43.37747661, -28.87747661, 10.5),
        (43.37747661, 28.87747661, 10.5),
        (43.37747661, -28.87747661, 10.5),
        (-43.37747661, 28.87747661, 10.5),
        (-36, -24.5, 10.5),
        (22, -24.5, 10.5),
        (22, 24.5, 10.5),
        (-36, 24.5, 10.5),
    ]]
    fillet(fillet4_edges, radius=FILLET4_R)

    # Draft3
    draft3_faces = [part_4.faces().sort_by_distance(p)[0] for p in [
        (44.681925247, -26, 3.9),
        (44.668833948, 11.46, 4.65),
        (44.668833948, -6.14, 4.65),
        (44.681925247, -8.696, 3.9),
        (44.668833948, 8.64, 4.65),
        (44.668833948, 26.24, 4.65),
    ]]
    draft(draft3_faces, Plane(origin=(0, 0, 0), x_dir=(-1, 0, 0), z_dir=(0, 0, -1)), DRAFT3_ANGLE)

    # Fillet5
    fillet5_edges = [part_4.edges().sort_by_distance(p)[0] for p in [
        (44.587667896, 8.477667896, 9.3),
        (44.587667896, -5.977667896, 9.3),
        (44.587667896, 26.077667896, 9.3),
        (44.587667896, 11.622332104, 9.3),
        (44.613850494, -8.832149506, 7.8),
        (44.613850494, -25.863850494, 7.8),
    ]]
    fillet(fillet5_edges, radius=FILLET5_R)


solid = part_4.part
